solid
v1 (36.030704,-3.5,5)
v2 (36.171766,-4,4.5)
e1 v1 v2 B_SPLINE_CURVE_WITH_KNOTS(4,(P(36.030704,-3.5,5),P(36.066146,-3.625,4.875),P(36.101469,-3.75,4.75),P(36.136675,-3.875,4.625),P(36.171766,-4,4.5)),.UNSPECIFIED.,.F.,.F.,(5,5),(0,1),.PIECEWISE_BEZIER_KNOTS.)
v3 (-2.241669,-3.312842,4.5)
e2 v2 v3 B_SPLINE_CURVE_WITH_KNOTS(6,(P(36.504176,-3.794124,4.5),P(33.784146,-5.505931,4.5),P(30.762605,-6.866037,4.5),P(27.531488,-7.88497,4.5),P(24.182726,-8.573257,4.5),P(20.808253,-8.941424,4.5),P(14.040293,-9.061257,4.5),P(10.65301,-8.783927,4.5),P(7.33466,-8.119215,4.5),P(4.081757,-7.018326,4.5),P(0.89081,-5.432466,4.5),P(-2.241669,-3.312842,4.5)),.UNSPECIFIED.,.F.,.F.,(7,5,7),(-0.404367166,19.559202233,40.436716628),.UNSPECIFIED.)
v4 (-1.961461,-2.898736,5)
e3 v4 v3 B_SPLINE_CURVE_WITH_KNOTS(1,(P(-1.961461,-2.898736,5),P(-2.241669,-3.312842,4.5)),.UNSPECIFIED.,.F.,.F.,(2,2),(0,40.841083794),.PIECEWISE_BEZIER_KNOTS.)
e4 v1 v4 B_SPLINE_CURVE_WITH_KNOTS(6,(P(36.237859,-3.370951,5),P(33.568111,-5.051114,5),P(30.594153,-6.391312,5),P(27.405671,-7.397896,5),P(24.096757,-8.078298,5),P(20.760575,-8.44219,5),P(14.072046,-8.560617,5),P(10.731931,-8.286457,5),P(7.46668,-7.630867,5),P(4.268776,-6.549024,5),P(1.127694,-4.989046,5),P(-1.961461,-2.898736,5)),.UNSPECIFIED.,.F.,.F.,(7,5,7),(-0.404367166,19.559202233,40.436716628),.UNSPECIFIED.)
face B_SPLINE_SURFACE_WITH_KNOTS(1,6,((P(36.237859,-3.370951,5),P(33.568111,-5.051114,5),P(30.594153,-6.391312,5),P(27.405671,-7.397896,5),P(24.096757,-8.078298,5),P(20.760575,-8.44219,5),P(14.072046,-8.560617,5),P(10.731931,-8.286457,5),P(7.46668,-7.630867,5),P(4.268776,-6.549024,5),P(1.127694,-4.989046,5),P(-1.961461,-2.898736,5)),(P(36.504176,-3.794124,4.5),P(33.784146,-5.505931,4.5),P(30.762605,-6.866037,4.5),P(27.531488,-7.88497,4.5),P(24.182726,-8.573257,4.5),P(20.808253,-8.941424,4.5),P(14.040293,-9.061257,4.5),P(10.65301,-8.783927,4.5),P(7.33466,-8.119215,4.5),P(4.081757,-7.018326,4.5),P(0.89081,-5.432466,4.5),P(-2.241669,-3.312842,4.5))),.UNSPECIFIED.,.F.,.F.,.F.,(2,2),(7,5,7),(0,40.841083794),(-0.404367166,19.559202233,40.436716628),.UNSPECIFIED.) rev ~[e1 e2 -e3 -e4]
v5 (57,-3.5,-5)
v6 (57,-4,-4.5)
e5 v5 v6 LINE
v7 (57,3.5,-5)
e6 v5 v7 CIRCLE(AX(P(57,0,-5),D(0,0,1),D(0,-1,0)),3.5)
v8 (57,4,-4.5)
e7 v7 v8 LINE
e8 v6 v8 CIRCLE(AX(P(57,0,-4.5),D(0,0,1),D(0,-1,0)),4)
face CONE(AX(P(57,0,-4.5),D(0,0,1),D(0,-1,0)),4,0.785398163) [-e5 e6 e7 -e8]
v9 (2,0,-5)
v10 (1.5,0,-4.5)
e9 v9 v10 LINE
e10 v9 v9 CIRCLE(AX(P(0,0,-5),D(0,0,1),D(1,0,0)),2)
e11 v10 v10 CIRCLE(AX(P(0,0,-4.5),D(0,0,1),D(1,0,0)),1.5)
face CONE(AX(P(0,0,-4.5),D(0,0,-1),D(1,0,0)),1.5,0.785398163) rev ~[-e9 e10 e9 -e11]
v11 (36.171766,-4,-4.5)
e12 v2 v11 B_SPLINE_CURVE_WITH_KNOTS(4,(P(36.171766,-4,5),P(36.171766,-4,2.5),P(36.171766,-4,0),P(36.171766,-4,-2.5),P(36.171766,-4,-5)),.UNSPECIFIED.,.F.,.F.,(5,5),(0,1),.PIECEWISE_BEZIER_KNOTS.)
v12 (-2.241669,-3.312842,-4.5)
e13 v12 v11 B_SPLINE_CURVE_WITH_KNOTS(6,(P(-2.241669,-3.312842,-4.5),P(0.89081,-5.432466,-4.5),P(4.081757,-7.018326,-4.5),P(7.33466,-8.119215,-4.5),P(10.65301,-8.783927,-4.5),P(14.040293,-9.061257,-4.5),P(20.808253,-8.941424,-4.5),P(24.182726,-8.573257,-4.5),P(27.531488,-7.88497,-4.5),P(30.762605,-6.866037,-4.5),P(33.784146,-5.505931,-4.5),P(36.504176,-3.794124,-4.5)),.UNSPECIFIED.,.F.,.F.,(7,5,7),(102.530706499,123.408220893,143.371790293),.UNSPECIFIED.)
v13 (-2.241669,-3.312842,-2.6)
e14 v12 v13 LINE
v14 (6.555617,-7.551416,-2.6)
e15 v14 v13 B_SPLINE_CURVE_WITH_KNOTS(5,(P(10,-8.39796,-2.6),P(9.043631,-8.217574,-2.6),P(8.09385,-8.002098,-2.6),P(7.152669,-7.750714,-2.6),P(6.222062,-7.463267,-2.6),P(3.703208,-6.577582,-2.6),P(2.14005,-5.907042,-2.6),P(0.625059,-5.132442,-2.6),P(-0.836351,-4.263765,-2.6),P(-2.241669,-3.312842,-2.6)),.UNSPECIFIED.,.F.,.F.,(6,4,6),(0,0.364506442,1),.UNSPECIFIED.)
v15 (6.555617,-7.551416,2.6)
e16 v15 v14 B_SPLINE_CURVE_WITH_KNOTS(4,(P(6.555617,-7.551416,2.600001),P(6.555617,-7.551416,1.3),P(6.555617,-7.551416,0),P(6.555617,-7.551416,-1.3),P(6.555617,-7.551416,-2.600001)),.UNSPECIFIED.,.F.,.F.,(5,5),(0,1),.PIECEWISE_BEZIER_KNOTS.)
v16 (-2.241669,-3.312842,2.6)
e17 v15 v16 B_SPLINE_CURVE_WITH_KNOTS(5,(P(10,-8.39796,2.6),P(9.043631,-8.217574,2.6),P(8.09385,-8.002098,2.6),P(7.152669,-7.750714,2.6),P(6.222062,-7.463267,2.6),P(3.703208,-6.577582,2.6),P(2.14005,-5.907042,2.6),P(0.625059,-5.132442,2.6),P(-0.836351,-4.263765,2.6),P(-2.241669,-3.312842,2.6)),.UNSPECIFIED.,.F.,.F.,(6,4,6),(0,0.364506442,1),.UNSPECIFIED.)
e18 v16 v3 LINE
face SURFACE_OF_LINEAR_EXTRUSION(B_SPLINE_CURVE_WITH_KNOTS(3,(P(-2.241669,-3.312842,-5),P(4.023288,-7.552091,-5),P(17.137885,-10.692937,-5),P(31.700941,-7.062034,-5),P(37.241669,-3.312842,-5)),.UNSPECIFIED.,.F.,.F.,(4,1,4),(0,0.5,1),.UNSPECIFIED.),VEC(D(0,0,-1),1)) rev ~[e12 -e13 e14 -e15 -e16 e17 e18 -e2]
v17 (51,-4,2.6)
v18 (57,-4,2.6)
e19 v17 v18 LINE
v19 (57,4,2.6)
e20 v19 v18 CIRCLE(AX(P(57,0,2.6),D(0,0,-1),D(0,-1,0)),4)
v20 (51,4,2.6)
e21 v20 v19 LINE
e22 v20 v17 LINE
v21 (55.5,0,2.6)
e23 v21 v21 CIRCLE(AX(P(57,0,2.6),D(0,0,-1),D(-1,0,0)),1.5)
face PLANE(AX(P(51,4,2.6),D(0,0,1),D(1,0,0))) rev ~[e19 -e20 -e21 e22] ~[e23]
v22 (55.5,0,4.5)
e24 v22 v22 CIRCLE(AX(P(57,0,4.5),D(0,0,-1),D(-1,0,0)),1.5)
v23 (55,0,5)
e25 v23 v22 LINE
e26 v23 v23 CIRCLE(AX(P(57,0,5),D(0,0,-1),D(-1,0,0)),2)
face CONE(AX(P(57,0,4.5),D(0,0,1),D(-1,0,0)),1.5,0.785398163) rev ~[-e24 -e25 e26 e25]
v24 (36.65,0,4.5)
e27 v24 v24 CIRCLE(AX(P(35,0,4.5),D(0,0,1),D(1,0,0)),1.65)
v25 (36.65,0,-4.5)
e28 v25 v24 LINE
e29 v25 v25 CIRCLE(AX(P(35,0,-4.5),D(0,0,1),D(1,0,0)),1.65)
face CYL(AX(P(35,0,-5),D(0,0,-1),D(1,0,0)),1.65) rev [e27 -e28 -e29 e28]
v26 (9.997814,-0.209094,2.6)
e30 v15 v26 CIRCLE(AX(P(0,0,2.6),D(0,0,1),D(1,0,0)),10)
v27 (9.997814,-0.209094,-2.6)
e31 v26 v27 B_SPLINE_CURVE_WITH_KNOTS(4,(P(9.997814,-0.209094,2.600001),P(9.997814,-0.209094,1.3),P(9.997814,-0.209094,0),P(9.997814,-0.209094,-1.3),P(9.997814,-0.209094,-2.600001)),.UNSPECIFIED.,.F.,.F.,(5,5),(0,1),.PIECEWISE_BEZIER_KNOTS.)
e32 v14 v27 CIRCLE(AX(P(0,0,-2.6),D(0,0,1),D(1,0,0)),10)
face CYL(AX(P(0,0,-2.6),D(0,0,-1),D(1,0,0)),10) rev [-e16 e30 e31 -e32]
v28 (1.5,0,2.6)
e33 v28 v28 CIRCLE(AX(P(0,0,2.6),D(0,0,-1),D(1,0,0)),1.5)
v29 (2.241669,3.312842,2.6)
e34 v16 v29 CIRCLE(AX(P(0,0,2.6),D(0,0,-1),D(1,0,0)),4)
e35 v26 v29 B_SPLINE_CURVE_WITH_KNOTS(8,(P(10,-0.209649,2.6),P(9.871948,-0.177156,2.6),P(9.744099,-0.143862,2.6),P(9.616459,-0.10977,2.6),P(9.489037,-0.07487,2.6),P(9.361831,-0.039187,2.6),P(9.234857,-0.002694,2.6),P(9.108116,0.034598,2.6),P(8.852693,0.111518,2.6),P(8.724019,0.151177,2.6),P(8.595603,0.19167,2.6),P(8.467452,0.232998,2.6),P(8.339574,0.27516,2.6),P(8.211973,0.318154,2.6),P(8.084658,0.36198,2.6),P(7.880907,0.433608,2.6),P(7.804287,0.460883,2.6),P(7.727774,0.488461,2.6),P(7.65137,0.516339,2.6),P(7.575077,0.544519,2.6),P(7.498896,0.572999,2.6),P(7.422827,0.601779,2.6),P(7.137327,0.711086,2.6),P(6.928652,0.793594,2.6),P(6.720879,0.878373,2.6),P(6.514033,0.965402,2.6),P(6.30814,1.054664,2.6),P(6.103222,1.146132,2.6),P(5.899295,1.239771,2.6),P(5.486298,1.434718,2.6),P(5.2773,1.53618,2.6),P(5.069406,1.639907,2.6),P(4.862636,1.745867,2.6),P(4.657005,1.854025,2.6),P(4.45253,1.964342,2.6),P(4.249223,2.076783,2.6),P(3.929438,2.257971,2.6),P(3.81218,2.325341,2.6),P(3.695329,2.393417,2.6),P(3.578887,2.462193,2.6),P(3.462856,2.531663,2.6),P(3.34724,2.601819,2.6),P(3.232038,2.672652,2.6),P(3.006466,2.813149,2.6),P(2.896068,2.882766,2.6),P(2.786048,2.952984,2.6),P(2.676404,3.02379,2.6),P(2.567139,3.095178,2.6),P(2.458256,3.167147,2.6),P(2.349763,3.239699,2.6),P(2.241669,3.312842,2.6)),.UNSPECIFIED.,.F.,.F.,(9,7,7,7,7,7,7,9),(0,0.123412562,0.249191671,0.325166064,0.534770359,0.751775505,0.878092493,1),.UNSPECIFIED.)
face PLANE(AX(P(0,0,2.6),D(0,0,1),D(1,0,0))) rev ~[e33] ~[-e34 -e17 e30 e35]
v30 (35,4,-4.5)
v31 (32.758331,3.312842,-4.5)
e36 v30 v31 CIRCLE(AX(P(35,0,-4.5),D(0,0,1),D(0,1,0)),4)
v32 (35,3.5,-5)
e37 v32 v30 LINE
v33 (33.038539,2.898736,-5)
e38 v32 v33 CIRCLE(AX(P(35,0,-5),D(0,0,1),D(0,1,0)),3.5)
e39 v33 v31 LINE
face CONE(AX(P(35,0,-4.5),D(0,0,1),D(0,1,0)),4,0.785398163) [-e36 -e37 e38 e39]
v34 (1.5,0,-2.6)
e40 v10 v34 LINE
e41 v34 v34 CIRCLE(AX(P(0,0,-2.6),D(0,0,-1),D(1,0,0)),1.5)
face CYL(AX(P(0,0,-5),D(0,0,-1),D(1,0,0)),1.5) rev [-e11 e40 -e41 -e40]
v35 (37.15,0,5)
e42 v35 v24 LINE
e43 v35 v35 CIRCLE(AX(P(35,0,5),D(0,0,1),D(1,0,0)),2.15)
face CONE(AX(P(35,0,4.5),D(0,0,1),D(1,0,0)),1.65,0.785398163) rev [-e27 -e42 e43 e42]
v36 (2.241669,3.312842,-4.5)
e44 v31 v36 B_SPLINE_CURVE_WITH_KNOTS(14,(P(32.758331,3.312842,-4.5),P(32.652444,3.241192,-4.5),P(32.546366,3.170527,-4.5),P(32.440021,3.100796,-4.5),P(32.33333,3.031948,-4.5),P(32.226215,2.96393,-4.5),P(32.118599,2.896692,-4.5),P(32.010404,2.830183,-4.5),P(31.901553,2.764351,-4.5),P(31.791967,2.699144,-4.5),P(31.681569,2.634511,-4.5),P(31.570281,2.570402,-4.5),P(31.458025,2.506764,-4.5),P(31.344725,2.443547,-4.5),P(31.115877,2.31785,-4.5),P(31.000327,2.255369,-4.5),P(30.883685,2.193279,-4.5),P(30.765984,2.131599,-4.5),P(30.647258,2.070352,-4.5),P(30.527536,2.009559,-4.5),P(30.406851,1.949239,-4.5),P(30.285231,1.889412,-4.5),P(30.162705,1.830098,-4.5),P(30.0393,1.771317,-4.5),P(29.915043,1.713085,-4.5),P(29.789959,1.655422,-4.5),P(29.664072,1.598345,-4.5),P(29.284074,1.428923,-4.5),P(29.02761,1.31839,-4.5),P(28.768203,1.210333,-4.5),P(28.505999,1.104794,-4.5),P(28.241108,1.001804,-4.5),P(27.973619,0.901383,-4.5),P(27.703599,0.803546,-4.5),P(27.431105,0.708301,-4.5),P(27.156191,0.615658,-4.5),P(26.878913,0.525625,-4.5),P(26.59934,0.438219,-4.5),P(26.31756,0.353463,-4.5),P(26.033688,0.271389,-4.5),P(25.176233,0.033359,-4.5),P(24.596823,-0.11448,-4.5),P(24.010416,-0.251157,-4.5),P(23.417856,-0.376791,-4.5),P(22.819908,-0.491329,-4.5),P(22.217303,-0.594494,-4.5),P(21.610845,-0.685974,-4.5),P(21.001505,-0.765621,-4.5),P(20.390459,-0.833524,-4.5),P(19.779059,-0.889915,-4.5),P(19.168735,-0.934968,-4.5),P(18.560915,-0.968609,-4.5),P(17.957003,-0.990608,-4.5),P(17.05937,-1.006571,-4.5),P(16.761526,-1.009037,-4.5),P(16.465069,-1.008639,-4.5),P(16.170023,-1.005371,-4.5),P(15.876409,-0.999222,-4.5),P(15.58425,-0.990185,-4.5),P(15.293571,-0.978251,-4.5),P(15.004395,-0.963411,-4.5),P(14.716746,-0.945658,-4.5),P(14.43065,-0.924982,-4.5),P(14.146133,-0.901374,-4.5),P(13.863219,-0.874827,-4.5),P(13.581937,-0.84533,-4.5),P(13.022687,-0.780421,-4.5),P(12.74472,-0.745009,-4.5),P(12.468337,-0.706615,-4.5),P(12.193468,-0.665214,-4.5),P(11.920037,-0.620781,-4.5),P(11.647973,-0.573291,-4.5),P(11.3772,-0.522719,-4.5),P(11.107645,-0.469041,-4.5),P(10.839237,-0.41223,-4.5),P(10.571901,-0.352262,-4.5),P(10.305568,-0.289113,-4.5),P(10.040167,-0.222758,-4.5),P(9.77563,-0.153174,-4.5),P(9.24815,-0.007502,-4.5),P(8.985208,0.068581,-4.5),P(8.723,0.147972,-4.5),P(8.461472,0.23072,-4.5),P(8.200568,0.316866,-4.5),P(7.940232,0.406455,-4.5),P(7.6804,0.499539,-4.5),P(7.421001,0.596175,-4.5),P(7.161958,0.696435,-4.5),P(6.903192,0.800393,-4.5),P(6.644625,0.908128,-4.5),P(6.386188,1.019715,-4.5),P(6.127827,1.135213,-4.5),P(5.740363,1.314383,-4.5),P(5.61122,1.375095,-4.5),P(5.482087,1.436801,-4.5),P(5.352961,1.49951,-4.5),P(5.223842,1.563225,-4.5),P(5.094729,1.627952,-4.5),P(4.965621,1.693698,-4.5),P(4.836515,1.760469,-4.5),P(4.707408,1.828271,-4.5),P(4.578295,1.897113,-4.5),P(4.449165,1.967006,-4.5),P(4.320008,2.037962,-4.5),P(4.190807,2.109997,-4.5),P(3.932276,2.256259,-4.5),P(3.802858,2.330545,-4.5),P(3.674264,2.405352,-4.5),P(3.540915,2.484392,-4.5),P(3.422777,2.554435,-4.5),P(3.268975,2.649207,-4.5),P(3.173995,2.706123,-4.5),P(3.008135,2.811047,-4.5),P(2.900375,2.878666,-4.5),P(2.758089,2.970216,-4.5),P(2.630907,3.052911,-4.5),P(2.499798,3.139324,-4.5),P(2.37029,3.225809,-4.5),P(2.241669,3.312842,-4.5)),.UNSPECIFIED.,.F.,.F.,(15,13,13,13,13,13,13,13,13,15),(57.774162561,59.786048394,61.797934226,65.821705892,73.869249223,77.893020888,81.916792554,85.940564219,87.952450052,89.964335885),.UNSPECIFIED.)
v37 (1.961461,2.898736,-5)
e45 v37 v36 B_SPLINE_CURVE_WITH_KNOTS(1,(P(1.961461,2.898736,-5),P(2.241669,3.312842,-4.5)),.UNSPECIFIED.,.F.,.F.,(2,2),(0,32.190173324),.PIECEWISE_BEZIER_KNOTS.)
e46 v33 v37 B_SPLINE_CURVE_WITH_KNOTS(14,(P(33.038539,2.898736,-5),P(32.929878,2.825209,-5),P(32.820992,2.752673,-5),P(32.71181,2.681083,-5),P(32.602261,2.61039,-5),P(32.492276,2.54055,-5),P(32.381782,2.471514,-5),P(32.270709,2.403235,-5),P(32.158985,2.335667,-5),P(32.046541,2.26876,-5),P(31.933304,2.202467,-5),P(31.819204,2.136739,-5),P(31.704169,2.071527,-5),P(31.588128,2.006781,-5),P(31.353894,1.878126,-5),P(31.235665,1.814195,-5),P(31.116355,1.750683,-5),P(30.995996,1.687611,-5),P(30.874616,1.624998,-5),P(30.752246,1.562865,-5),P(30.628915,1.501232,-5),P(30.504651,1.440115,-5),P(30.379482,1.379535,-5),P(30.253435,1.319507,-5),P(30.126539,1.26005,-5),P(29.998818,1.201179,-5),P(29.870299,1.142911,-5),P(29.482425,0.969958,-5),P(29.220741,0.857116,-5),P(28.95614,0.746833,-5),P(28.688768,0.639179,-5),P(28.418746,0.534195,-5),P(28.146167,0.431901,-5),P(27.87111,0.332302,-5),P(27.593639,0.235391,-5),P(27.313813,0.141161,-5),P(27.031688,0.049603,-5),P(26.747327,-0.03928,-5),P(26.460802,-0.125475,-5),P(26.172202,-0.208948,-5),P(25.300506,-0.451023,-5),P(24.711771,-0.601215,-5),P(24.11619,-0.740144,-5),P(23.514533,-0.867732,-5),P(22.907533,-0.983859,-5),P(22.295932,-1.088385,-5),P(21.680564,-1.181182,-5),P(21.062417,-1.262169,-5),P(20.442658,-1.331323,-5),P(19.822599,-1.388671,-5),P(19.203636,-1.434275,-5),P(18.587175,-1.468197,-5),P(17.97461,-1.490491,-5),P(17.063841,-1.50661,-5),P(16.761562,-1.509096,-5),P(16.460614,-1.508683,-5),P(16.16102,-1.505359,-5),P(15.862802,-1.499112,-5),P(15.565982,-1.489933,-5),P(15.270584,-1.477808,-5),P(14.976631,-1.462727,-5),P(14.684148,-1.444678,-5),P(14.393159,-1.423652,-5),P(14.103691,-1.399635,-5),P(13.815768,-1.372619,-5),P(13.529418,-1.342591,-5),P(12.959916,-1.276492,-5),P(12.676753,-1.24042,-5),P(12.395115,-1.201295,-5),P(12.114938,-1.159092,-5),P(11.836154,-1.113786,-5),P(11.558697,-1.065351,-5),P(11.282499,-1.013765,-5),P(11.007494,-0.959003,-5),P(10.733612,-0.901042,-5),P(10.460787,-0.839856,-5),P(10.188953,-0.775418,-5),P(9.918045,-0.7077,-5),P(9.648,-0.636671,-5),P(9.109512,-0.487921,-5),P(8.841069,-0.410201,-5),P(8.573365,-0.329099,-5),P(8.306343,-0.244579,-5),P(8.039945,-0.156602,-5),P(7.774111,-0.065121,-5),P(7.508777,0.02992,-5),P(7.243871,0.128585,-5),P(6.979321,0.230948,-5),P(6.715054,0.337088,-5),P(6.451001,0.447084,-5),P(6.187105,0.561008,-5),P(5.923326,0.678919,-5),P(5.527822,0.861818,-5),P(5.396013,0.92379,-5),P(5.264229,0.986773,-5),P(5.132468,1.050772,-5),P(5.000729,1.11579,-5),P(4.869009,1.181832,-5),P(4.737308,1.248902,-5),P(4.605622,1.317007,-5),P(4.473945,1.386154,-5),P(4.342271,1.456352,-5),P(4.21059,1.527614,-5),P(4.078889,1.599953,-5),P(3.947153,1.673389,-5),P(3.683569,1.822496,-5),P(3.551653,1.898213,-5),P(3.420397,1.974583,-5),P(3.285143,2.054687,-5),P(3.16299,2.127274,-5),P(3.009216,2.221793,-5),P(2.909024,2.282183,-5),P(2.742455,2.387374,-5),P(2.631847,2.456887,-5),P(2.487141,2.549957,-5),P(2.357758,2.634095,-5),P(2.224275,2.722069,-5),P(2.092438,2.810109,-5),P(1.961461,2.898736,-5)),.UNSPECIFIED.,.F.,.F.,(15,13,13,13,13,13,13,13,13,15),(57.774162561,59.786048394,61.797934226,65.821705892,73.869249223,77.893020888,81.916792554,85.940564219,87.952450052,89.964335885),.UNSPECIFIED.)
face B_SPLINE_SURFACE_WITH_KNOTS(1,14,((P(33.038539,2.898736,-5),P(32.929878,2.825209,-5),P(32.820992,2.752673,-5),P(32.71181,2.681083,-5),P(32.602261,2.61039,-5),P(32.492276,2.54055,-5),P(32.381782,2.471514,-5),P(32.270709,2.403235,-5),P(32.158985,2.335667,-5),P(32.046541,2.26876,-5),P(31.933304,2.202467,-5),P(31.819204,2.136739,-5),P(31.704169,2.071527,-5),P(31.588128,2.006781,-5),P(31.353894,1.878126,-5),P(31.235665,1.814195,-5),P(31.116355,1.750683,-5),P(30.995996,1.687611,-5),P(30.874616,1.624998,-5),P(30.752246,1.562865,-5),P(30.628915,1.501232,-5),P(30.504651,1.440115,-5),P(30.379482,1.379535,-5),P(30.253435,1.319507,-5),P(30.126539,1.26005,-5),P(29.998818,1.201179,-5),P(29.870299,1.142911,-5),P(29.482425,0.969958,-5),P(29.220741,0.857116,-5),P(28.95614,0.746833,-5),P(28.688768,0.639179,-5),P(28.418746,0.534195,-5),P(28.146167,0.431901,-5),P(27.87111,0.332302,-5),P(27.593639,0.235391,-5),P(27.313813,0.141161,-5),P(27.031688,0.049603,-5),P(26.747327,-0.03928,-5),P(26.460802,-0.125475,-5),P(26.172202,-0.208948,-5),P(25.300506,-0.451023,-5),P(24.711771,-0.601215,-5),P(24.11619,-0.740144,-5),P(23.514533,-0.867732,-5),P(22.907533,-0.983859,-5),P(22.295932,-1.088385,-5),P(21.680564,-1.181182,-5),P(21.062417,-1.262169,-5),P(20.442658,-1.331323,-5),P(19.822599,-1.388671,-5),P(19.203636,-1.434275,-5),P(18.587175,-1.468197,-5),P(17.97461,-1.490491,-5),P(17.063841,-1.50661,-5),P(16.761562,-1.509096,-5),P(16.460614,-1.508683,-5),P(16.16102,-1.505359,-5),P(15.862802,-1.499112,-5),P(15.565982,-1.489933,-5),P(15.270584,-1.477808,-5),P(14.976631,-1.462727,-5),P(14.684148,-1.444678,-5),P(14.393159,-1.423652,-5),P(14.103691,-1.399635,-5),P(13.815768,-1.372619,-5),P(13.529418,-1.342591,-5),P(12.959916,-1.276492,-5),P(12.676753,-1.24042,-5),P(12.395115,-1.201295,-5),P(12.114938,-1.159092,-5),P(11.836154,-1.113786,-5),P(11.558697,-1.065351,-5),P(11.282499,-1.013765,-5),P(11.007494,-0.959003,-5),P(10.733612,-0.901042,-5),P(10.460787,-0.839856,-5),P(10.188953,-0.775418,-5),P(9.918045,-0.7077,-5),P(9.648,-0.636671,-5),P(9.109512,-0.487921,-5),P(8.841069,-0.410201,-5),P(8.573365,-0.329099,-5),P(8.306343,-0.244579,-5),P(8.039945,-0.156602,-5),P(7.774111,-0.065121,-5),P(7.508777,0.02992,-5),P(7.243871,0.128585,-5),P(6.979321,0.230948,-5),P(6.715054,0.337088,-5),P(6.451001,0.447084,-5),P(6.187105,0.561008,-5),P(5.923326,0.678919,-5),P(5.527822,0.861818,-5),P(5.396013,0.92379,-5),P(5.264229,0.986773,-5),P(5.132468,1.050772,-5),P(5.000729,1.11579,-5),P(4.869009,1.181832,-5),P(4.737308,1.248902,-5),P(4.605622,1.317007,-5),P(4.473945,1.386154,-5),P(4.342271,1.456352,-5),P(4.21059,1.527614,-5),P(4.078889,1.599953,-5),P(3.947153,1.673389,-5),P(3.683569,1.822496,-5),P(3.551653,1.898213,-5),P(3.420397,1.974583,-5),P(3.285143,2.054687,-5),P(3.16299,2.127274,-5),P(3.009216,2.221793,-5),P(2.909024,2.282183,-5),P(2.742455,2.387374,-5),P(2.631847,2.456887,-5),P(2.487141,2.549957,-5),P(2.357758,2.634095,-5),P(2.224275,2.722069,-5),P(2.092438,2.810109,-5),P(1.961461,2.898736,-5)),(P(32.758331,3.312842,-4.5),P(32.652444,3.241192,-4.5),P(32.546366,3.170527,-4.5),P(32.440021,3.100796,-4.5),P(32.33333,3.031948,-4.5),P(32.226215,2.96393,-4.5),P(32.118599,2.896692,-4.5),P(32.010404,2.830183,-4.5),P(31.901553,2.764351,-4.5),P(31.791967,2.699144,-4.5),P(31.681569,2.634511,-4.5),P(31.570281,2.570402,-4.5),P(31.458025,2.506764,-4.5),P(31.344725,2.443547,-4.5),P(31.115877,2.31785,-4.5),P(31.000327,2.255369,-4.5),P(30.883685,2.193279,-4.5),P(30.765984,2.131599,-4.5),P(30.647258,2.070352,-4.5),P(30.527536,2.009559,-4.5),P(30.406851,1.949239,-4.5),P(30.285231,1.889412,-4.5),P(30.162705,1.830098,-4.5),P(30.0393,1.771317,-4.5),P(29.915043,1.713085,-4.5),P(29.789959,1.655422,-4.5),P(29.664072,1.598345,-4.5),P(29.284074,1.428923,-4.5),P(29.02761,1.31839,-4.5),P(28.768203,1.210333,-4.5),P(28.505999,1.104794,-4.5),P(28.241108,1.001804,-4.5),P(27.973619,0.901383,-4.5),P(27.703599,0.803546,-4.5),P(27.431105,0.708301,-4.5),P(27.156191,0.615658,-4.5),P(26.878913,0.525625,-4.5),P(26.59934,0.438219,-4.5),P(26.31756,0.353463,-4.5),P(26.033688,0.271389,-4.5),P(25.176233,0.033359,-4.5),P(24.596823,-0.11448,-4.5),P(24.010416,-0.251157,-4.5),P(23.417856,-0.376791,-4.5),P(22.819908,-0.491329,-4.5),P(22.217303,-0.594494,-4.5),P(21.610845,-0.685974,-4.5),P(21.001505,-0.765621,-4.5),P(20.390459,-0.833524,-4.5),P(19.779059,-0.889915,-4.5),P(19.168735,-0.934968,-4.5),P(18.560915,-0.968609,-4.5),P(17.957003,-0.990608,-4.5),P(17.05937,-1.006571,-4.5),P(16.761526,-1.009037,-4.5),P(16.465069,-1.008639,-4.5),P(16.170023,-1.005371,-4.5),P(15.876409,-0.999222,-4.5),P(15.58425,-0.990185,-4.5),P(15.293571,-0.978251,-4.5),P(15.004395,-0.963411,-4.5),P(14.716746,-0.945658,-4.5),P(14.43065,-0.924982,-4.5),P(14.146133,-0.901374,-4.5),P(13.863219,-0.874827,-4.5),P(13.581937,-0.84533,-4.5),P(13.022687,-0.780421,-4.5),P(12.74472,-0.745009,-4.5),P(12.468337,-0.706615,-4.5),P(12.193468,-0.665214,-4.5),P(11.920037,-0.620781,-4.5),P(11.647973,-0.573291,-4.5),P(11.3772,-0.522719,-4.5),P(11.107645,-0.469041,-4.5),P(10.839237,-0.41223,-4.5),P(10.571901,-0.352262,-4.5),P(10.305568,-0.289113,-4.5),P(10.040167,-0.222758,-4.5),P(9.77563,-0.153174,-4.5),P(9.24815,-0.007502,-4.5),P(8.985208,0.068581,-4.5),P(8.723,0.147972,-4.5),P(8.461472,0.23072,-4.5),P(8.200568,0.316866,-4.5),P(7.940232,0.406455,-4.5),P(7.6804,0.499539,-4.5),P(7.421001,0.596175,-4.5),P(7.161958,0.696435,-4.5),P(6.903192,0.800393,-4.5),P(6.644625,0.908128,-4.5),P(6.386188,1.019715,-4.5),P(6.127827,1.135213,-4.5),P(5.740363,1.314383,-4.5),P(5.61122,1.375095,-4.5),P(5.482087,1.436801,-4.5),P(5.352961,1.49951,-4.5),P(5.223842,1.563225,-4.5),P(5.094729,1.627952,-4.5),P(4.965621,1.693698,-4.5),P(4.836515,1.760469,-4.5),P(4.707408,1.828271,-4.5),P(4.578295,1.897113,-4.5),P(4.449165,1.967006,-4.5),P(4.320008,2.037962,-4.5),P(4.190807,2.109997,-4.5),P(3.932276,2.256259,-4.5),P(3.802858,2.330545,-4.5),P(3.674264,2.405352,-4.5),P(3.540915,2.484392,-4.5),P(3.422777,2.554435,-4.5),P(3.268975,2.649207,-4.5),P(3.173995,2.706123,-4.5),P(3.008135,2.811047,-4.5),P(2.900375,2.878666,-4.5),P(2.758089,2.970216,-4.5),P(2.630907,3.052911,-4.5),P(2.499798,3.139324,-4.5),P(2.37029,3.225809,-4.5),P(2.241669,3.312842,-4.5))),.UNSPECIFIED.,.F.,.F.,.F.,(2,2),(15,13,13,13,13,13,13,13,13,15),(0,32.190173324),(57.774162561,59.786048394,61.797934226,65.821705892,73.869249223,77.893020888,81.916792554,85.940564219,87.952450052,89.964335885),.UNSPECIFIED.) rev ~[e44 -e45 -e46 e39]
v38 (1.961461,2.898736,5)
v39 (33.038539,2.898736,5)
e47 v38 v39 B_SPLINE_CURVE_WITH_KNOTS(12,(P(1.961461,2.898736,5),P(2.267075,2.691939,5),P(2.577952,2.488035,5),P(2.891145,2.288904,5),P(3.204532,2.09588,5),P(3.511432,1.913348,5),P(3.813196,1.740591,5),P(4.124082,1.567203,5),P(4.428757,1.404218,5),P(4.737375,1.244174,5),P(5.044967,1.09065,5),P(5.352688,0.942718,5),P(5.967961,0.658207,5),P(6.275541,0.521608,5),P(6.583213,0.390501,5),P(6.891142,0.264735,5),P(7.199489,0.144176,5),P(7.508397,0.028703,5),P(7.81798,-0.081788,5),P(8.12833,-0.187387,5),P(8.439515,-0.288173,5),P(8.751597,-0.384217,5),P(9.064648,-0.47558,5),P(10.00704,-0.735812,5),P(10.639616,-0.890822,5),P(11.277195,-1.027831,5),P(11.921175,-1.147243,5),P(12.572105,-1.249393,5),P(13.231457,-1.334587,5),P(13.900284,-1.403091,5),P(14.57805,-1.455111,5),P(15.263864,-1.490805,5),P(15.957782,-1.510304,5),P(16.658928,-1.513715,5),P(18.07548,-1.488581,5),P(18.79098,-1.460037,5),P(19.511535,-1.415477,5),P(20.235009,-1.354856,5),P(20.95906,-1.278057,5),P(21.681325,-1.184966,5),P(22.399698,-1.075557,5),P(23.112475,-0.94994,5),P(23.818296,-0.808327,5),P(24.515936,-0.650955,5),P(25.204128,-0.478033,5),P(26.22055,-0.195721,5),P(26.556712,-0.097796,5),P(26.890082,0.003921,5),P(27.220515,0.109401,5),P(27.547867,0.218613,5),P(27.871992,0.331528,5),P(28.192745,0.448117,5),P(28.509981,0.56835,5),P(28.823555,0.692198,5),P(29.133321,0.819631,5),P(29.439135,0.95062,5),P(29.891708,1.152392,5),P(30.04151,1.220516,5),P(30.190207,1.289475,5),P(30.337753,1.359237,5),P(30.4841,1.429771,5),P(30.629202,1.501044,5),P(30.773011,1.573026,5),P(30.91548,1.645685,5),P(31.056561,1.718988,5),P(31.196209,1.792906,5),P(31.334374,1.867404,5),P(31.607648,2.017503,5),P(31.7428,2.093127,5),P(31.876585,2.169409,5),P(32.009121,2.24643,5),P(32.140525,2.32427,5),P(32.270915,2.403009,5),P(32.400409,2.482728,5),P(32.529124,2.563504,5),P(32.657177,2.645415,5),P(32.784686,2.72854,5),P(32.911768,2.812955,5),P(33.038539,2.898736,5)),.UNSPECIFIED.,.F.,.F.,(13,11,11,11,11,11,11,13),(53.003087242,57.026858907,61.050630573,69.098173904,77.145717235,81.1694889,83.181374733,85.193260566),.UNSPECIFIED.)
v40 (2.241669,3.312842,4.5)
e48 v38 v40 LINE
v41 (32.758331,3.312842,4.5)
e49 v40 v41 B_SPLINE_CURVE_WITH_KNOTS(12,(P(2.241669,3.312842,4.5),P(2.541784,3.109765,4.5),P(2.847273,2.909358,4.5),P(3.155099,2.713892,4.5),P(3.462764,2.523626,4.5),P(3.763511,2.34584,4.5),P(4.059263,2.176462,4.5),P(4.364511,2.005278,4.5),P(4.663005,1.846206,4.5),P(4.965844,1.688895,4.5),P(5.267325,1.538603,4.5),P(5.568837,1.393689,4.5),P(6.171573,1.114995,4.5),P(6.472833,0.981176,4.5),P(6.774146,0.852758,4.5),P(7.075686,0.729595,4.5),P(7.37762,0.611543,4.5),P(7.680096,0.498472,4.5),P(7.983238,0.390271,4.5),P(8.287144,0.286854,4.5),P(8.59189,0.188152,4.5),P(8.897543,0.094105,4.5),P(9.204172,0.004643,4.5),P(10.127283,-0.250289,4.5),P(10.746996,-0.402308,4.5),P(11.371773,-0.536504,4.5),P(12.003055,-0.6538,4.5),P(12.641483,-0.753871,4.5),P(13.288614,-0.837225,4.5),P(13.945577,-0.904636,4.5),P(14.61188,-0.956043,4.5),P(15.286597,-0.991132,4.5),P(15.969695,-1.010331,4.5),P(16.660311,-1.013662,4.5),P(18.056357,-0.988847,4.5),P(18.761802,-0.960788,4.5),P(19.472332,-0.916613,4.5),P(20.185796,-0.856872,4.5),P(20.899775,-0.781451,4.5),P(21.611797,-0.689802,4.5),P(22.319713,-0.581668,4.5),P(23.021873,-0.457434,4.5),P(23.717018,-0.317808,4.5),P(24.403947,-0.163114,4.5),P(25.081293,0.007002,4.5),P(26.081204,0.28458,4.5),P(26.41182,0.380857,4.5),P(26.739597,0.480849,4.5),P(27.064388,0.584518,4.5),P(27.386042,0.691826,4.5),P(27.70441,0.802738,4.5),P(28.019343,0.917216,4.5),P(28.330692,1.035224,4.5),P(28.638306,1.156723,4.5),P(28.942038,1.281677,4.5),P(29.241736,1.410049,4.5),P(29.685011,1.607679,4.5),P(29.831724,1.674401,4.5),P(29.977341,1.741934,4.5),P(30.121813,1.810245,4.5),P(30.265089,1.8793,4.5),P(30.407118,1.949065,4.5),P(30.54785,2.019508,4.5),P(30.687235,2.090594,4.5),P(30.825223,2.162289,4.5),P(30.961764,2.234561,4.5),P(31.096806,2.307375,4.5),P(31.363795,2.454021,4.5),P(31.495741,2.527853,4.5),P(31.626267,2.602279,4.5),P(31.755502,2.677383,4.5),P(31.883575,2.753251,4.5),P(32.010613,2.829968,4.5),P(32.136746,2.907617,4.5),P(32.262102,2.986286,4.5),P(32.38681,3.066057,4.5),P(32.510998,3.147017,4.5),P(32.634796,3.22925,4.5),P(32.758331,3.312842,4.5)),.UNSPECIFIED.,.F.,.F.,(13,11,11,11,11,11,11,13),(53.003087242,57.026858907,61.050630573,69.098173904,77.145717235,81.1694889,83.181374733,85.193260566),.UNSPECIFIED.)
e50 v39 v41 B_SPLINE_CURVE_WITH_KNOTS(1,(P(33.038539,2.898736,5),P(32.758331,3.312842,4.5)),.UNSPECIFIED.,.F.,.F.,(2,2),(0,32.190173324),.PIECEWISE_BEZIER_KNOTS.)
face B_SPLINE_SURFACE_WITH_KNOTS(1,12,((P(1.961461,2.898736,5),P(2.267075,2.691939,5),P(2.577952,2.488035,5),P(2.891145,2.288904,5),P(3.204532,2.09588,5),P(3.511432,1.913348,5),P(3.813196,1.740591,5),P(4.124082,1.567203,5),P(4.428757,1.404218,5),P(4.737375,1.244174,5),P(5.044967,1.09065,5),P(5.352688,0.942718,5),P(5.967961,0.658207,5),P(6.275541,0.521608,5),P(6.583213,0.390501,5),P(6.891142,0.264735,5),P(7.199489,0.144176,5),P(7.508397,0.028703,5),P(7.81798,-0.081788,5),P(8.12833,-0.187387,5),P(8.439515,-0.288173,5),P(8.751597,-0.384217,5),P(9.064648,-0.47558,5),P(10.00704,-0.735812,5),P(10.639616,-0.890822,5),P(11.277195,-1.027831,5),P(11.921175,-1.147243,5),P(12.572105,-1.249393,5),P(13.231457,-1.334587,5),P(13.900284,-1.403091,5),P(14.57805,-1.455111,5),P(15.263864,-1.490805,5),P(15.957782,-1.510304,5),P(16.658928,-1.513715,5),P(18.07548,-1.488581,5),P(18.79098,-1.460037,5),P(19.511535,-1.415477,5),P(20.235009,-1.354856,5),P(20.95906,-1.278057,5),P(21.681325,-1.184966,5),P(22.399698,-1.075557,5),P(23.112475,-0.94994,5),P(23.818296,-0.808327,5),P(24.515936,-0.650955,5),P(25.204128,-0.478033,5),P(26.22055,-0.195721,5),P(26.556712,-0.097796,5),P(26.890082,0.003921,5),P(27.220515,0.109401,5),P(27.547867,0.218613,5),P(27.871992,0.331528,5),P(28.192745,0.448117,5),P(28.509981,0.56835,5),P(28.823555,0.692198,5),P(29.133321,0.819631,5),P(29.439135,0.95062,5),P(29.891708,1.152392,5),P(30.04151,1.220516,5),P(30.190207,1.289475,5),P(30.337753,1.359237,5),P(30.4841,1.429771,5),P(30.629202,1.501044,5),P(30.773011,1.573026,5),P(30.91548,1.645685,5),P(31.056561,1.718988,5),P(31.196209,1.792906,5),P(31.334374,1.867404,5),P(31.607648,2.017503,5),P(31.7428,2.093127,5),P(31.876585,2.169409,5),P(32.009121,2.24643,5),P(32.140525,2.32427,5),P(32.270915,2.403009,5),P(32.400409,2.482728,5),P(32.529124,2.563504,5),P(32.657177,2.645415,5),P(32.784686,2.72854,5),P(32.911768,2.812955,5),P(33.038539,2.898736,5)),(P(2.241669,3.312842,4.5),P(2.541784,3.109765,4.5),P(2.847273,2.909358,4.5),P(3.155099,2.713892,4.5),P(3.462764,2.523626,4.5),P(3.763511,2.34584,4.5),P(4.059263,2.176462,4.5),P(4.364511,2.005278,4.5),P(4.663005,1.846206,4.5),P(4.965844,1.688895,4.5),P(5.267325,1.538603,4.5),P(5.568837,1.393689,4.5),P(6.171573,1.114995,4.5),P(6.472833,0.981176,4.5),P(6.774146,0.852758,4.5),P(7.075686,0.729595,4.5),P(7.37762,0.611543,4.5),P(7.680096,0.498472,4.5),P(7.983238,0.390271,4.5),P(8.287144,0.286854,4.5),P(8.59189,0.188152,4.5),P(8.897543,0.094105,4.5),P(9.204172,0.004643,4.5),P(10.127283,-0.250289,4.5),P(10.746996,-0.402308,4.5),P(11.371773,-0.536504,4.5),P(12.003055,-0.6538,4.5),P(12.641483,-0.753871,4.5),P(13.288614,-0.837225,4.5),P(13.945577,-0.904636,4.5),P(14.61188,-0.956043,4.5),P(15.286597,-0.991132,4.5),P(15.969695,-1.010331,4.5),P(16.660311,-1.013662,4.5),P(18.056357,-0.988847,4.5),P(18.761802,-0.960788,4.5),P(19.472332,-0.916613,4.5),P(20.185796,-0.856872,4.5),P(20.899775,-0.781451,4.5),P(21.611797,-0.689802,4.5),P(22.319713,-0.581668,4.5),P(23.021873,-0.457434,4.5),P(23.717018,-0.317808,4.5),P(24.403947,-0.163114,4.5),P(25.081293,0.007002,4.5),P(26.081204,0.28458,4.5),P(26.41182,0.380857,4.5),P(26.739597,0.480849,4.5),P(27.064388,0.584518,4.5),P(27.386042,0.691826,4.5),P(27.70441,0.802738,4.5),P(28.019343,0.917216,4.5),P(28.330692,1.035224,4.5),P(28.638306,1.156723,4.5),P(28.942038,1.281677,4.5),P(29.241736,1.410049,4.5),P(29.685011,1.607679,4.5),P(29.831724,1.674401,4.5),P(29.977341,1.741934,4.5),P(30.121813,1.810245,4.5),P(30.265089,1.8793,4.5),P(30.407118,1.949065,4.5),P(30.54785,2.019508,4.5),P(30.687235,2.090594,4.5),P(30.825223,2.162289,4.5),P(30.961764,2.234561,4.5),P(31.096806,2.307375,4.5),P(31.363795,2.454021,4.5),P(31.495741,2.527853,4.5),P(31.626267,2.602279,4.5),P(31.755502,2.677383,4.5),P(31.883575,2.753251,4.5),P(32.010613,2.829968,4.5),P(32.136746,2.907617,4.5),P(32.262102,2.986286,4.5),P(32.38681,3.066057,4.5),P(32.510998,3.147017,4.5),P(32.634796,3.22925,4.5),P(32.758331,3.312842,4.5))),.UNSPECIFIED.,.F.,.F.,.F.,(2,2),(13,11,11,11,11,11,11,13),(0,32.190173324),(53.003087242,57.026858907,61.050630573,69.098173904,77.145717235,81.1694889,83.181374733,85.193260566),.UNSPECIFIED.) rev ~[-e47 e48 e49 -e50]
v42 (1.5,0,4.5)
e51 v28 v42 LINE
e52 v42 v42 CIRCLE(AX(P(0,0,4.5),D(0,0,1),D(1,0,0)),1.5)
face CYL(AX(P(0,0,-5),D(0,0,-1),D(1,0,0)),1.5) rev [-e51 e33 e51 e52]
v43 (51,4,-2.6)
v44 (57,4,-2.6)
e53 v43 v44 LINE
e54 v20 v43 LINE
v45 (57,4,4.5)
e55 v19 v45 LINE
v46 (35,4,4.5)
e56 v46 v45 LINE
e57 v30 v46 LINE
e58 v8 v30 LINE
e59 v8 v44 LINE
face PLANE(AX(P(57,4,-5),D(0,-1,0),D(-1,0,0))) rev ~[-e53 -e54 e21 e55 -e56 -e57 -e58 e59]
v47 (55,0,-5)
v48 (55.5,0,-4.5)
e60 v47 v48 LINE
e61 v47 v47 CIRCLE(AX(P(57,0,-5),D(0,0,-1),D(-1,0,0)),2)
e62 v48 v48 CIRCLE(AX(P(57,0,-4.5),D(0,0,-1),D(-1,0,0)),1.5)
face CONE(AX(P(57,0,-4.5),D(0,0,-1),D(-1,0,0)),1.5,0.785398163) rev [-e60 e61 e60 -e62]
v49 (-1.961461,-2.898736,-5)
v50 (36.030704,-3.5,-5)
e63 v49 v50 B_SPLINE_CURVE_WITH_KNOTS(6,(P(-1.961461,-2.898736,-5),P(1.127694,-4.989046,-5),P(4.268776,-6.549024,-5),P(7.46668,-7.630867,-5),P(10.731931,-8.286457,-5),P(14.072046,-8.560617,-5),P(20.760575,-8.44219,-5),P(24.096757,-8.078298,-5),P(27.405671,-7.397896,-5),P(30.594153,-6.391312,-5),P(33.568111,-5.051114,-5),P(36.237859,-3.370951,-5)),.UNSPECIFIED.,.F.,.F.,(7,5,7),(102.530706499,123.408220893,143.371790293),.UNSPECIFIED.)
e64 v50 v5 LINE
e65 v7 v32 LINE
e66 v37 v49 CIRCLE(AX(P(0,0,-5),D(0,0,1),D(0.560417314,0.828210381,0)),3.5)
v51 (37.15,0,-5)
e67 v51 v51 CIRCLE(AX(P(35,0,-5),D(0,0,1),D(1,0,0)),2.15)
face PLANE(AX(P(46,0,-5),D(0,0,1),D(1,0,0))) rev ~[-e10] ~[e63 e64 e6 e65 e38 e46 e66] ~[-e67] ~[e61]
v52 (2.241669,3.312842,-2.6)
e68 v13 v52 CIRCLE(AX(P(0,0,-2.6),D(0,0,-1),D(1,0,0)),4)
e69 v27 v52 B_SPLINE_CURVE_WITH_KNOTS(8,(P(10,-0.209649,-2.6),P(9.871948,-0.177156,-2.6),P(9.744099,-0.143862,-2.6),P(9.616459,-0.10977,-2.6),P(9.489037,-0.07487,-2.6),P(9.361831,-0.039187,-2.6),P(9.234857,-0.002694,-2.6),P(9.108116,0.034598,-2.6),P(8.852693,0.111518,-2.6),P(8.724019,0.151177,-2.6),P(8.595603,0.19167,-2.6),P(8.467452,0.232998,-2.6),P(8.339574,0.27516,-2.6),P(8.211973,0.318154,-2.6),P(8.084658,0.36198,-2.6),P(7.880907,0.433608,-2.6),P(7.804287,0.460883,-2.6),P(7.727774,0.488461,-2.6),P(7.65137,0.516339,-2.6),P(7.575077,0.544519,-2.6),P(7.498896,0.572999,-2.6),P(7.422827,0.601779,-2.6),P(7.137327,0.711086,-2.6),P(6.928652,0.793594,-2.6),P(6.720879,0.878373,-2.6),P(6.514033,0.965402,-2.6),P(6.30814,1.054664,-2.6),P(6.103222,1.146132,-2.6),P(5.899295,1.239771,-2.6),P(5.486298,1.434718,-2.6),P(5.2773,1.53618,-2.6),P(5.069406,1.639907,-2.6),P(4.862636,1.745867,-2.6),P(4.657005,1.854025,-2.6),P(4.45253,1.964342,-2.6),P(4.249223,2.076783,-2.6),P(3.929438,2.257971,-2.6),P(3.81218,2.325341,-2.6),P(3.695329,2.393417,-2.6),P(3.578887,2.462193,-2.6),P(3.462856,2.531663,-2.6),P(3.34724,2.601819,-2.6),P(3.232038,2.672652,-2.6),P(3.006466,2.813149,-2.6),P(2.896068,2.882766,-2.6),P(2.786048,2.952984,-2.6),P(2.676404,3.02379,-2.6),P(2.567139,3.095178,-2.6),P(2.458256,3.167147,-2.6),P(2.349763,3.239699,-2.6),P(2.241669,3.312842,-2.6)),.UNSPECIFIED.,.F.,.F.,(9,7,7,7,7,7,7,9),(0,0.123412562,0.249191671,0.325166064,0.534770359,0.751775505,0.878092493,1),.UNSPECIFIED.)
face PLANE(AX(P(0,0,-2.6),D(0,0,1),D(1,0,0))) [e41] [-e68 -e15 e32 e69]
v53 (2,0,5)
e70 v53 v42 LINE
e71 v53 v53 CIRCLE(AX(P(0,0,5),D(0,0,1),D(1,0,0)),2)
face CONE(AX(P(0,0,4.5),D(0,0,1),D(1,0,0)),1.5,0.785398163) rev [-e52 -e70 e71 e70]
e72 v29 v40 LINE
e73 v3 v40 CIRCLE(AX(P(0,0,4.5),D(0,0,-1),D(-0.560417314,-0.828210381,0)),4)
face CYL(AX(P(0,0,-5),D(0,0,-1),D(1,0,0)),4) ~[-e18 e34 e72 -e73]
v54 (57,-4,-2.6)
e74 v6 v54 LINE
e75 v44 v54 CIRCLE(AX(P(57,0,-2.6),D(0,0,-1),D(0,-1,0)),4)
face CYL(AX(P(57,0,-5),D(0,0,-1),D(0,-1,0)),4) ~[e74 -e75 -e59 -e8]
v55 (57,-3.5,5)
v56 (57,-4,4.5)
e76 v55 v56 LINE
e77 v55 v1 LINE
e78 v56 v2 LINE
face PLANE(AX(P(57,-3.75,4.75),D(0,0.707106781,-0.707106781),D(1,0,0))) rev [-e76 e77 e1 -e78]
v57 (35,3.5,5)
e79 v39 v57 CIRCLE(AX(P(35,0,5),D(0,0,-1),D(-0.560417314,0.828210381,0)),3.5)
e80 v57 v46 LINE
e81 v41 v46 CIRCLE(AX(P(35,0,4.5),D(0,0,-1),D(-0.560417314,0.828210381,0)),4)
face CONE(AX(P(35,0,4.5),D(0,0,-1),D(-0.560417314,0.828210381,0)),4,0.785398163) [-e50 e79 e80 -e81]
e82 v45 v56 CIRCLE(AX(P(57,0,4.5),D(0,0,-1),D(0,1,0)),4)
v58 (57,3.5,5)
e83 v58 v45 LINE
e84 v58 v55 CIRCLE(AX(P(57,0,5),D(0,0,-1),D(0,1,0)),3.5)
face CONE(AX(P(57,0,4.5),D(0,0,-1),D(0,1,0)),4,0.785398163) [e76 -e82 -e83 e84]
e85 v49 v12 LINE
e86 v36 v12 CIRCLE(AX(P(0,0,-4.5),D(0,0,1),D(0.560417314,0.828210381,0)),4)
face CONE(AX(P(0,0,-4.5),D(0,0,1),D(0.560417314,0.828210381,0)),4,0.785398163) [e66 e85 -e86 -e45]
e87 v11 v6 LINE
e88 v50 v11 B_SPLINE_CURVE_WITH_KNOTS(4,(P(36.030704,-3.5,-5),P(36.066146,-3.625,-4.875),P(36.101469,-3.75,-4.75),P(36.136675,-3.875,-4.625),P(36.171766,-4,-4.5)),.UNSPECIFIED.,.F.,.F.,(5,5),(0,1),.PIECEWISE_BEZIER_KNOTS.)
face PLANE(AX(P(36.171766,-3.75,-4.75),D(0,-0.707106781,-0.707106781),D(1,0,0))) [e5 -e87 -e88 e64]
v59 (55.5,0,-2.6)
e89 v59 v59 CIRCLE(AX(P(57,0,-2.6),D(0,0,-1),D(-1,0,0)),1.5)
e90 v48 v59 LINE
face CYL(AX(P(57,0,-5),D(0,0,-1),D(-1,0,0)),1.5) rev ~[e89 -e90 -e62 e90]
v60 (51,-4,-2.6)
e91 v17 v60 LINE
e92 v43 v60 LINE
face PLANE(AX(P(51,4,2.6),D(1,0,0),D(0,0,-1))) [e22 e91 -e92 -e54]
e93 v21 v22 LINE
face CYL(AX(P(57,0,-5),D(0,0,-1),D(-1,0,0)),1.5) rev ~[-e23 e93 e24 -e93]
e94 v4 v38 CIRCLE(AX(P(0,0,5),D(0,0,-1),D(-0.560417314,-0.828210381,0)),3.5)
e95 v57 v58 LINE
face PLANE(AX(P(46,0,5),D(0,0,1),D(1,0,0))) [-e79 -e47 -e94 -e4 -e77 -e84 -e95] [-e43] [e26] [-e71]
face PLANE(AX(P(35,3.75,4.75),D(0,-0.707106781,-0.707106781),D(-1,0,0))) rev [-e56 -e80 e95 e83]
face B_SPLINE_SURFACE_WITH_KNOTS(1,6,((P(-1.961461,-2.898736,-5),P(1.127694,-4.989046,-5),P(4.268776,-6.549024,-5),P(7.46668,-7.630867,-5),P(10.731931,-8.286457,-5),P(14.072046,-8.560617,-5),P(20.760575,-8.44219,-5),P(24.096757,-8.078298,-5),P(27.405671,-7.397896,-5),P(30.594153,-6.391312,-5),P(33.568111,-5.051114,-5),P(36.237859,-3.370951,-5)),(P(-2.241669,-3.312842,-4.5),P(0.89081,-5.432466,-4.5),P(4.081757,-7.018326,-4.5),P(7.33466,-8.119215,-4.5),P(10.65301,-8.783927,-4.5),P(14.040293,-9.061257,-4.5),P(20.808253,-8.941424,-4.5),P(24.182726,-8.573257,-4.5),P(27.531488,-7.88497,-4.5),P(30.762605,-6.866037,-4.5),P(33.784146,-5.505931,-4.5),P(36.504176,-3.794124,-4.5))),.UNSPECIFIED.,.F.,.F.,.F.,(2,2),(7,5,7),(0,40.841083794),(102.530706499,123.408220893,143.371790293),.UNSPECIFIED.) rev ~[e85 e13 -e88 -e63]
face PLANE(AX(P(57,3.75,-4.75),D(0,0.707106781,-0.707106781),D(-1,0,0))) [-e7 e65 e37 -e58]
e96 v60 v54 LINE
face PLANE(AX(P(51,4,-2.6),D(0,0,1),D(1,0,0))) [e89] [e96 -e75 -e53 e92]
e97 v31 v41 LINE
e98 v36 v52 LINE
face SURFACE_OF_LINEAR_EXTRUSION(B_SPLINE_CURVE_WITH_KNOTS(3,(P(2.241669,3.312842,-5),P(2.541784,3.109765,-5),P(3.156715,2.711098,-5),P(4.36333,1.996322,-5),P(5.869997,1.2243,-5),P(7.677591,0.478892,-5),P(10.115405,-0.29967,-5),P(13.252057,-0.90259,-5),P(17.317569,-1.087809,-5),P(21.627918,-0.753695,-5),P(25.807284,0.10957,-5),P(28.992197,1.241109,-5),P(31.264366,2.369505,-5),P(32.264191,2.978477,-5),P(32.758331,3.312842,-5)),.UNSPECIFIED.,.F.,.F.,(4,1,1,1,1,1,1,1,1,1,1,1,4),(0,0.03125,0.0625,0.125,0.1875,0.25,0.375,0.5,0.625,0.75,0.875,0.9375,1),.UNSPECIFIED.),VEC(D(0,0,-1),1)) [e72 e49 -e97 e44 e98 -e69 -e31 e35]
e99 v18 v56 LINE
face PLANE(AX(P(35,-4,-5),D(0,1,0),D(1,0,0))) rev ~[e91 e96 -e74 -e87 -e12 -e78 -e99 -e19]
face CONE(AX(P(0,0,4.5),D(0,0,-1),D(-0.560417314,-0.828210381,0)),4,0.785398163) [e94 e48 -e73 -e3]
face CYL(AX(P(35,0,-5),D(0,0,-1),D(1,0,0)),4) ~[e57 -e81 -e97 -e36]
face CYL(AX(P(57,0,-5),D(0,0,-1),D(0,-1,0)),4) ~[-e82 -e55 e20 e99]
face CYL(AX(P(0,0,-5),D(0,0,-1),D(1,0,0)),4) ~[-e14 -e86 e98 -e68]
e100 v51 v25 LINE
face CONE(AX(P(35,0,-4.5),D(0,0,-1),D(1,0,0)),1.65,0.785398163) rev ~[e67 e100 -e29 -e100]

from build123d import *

# Parameters (mm, degrees)
EXTRUDE_1_DEPTH          = 5
EXTRUDE_1_DEPTH_BACK     = 5
SKETCH_1_R               = 4
SKETCH_1_R_2             = 1.5
SKETCH_1_R_3             = 3.999999999999999
SKETCH_1_R_4             = 1.6500000000000021
CUT_EXTRUDE_1_DEPTH      = 2.6
CUT_EXTRUDE_1_DEPTH_BACK = 2.6
SKETCH_2_R               = 10
SKETCH_3_R               = 1.500000000000004
SKETCH_3_R_2             = 1.6500000000000021
EXTRUDE_3_DEPTH          = 10
SKETCH_4_W               = 20.00000000000002
SKETCH_4_H               = 5.2
CUT_EXTRUDE_2_DEPTH      = 10
CHAMFER_1_SIZE           = 0.5


with BuildPart() as part:
    # 草图1 → 凸台-拉伸1 (new, two sides: drawn at the far end of the back side and taken through both)
    # profile 1 of 3: a face of its own
    with BuildSketch(Plane.XY.offset(-EXTRUDE_1_DEPTH_BACK)):
        Circle(SKETCH_1_R)
        Circle(SKETCH_1_R_2, mode=Mode.SUBTRACT)
    # profile 2 of 3: a face of its own
    with BuildSketch(Plane.XY.offset(-EXTRUDE_1_DEPTH_BACK)):
        with BuildLine():
            ThreePointArc((2.241669254584064, 3.3128415224777243), (3.5331768295923327, 1.8752763771860061), (4, 0))
            ThreePointArc((4, -9.8e-16), (1.875276377186004, -3.533176829592334), (-2.241669254584067, -3.312841522477722))
            add(Edge.make_bspline(
                [(-2.2416692545840666, -3.3128415224777275), (4.023288399104954, -7.552091380419048), (17.137885249639094, -10.692937395333647), (31.700941101616845, -7.062033828913657), (37.24166925458407, -3.3128415224777283)],
                knots=[0, 0, 0, 0, 0.5000000000000002, 1, 1, 1, 1], degree=3))
            ThreePointArc((37.24166925458406, -3.312841522477722), (31.687158477522274, -2.2416692545840604), (32.75833074541594, 3.312841522477726))
            add(Edge.make_bspline(
                [(2.2416692545840613, 3.3128415224777203), (2.5417844094553557, 3.1097654287542427), (3.1567145921113204, 2.711097631998411), (4.363329654695279, 1.996321701251651), (5.869996949507693, 1.2242995538785062), (7.677590875082871, 0.4788920232894552), (10.115405251702699, -0.2996699093227729), (13.252057238449053, -0.9025900818361017), (17.317568666800724, -1.0878092080294735), (21.627918427541044, -0.7536952847930135), (25.807284141658094, 0.1095698053821612), (28.992197069652473, 1.2411094397422888), (31.264365551631894, 2.3695049176779595), (32.264190962280374, 2.9784766119300636), (32.75833074541594, 3.312841522477724)],
                knots=[0, 0, 0, 0, 0.03125, 0.0625, 0.125, 0.1875, 0.25, 0.375, 0.5, 0.625, 0.75, 0.875, 0.9375, 1, 1, 1, 1], degree=3))
        make_face()
    # profile 3 of 3: a face of its own
    with BuildSketch(Plane.XY.offset(-EXTRUDE_1_DEPTH_BACK)):
        with Locations((35, 2.24e-15)):
            Circle(SKETCH_1_R_3)
        with Locations((35, 2.24e-15)):
            Circle(SKETCH_1_R_4, mode=Mode.SUBTRACT)
    extrude(amount=EXTRUDE_1_DEPTH + EXTRUDE_1_DEPTH_BACK)

    # 草图2 → 切除-拉伸1 (cut, two sides: drawn at the far end of the back side and taken through both)
    with BuildSketch(Plane.XY.offset(-CUT_EXTRUDE_1_DEPTH_BACK)):
        Circle(SKETCH_2_R)
    extrude(amount=CUT_EXTRUDE_1_DEPTH + CUT_EXTRUDE_1_DEPTH_BACK, mode=Mode.SUBTRACT)

    # 草图3 → 凸台-拉伸3 (add)
    with BuildSketch(Plane(origin=(0, 0, -5), x_dir=(-1, 0, 0), z_dir=(0, 0, -1))):
        with BuildLine():
            Line((-57, 3.9999999999999947), (-35, 4.000000000000001))
            ThreePointArc((-35, 4.000000000000001), (-31.000000000000004, 2.24e-15), (-35, -3.9999999999999956))
            Line((-35, -3.9999999999999956), (-57, -3.9999999999999947))
            ThreePointArc((-57, -3.9999999999999947), (-61, -2.2e-15), (-57, 3.9999999999999947))
        make_face()
        with Locations((-57, -2.69e-15)):
            Circle(SKETCH_3_R, mode=Mode.SUBTRACT)
        with Locations(Location((-35, 2.24e-15, 0), (0, 0, 180))):
            Circle(SKETCH_3_R_2, mode=Mode.SUBTRACT)
    extrude(amount=-EXTRUDE_3_DEPTH)

    # 草图4 → 切除-拉伸2 (cut)
    with BuildSketch(Plane(origin=(1.1e-15, 4.000000000000011, 0), x_dir=(1, -2.8e-16, 0), z_dir=(2.8e-16, 1, 0))):
        with Locations((61.000000000000014, 0)):
            Rectangle(SKETCH_4_W, SKETCH_4_H)
    extrude(amount=-CUT_EXTRUDE_2_DEPTH, mode=Mode.SUBTRACT)

    # 倒角1
    chamfer_1_edges = [part.edges().sort_by_distance(p)[0] for p in [
        (58.50000000000001, -2.51e-15, -5),
        (58.50000000000001, -2.51e-15, 5),
        (33.349999999999994, 1.71e-15, 5),
        (-1.5, 1.8e-16, 5),
        (-1.5, 1.8e-16, -5),
        (33.349999999999994, 1.71e-15, -5),
        (17.466337621201156, -0.999163570519443, 5),
        (-3.3128415224777235, 2.2416692545840653, 5),
        (17.466337621201156, -0.999163570519443, 5),
        (46.58588320296925, -3.999999999999995, 5),
        (46.58588320296925, -3.999999999999995, -5),
        (33.82768734757124, 3.824353938243094, 5),
        (61, -2e-17, -5),
        (61, -2e-17, 5),
        (46, 3.999999999999998, -5),
        (46, 3.999999999999998, 5),
        (17.466337621201156, -0.999163570519443, -5),
        (-3.3128415224777235, 2.2416692545840653, -5),
        (33.82768734757124, 3.8243539382430947, -5),
        (17.466337621201156, -0.999163570519443, -5),
    ]]
    chamfer(chamfer_1_edges, length=CHAMFER_1_SIZE)


solid = part.part
